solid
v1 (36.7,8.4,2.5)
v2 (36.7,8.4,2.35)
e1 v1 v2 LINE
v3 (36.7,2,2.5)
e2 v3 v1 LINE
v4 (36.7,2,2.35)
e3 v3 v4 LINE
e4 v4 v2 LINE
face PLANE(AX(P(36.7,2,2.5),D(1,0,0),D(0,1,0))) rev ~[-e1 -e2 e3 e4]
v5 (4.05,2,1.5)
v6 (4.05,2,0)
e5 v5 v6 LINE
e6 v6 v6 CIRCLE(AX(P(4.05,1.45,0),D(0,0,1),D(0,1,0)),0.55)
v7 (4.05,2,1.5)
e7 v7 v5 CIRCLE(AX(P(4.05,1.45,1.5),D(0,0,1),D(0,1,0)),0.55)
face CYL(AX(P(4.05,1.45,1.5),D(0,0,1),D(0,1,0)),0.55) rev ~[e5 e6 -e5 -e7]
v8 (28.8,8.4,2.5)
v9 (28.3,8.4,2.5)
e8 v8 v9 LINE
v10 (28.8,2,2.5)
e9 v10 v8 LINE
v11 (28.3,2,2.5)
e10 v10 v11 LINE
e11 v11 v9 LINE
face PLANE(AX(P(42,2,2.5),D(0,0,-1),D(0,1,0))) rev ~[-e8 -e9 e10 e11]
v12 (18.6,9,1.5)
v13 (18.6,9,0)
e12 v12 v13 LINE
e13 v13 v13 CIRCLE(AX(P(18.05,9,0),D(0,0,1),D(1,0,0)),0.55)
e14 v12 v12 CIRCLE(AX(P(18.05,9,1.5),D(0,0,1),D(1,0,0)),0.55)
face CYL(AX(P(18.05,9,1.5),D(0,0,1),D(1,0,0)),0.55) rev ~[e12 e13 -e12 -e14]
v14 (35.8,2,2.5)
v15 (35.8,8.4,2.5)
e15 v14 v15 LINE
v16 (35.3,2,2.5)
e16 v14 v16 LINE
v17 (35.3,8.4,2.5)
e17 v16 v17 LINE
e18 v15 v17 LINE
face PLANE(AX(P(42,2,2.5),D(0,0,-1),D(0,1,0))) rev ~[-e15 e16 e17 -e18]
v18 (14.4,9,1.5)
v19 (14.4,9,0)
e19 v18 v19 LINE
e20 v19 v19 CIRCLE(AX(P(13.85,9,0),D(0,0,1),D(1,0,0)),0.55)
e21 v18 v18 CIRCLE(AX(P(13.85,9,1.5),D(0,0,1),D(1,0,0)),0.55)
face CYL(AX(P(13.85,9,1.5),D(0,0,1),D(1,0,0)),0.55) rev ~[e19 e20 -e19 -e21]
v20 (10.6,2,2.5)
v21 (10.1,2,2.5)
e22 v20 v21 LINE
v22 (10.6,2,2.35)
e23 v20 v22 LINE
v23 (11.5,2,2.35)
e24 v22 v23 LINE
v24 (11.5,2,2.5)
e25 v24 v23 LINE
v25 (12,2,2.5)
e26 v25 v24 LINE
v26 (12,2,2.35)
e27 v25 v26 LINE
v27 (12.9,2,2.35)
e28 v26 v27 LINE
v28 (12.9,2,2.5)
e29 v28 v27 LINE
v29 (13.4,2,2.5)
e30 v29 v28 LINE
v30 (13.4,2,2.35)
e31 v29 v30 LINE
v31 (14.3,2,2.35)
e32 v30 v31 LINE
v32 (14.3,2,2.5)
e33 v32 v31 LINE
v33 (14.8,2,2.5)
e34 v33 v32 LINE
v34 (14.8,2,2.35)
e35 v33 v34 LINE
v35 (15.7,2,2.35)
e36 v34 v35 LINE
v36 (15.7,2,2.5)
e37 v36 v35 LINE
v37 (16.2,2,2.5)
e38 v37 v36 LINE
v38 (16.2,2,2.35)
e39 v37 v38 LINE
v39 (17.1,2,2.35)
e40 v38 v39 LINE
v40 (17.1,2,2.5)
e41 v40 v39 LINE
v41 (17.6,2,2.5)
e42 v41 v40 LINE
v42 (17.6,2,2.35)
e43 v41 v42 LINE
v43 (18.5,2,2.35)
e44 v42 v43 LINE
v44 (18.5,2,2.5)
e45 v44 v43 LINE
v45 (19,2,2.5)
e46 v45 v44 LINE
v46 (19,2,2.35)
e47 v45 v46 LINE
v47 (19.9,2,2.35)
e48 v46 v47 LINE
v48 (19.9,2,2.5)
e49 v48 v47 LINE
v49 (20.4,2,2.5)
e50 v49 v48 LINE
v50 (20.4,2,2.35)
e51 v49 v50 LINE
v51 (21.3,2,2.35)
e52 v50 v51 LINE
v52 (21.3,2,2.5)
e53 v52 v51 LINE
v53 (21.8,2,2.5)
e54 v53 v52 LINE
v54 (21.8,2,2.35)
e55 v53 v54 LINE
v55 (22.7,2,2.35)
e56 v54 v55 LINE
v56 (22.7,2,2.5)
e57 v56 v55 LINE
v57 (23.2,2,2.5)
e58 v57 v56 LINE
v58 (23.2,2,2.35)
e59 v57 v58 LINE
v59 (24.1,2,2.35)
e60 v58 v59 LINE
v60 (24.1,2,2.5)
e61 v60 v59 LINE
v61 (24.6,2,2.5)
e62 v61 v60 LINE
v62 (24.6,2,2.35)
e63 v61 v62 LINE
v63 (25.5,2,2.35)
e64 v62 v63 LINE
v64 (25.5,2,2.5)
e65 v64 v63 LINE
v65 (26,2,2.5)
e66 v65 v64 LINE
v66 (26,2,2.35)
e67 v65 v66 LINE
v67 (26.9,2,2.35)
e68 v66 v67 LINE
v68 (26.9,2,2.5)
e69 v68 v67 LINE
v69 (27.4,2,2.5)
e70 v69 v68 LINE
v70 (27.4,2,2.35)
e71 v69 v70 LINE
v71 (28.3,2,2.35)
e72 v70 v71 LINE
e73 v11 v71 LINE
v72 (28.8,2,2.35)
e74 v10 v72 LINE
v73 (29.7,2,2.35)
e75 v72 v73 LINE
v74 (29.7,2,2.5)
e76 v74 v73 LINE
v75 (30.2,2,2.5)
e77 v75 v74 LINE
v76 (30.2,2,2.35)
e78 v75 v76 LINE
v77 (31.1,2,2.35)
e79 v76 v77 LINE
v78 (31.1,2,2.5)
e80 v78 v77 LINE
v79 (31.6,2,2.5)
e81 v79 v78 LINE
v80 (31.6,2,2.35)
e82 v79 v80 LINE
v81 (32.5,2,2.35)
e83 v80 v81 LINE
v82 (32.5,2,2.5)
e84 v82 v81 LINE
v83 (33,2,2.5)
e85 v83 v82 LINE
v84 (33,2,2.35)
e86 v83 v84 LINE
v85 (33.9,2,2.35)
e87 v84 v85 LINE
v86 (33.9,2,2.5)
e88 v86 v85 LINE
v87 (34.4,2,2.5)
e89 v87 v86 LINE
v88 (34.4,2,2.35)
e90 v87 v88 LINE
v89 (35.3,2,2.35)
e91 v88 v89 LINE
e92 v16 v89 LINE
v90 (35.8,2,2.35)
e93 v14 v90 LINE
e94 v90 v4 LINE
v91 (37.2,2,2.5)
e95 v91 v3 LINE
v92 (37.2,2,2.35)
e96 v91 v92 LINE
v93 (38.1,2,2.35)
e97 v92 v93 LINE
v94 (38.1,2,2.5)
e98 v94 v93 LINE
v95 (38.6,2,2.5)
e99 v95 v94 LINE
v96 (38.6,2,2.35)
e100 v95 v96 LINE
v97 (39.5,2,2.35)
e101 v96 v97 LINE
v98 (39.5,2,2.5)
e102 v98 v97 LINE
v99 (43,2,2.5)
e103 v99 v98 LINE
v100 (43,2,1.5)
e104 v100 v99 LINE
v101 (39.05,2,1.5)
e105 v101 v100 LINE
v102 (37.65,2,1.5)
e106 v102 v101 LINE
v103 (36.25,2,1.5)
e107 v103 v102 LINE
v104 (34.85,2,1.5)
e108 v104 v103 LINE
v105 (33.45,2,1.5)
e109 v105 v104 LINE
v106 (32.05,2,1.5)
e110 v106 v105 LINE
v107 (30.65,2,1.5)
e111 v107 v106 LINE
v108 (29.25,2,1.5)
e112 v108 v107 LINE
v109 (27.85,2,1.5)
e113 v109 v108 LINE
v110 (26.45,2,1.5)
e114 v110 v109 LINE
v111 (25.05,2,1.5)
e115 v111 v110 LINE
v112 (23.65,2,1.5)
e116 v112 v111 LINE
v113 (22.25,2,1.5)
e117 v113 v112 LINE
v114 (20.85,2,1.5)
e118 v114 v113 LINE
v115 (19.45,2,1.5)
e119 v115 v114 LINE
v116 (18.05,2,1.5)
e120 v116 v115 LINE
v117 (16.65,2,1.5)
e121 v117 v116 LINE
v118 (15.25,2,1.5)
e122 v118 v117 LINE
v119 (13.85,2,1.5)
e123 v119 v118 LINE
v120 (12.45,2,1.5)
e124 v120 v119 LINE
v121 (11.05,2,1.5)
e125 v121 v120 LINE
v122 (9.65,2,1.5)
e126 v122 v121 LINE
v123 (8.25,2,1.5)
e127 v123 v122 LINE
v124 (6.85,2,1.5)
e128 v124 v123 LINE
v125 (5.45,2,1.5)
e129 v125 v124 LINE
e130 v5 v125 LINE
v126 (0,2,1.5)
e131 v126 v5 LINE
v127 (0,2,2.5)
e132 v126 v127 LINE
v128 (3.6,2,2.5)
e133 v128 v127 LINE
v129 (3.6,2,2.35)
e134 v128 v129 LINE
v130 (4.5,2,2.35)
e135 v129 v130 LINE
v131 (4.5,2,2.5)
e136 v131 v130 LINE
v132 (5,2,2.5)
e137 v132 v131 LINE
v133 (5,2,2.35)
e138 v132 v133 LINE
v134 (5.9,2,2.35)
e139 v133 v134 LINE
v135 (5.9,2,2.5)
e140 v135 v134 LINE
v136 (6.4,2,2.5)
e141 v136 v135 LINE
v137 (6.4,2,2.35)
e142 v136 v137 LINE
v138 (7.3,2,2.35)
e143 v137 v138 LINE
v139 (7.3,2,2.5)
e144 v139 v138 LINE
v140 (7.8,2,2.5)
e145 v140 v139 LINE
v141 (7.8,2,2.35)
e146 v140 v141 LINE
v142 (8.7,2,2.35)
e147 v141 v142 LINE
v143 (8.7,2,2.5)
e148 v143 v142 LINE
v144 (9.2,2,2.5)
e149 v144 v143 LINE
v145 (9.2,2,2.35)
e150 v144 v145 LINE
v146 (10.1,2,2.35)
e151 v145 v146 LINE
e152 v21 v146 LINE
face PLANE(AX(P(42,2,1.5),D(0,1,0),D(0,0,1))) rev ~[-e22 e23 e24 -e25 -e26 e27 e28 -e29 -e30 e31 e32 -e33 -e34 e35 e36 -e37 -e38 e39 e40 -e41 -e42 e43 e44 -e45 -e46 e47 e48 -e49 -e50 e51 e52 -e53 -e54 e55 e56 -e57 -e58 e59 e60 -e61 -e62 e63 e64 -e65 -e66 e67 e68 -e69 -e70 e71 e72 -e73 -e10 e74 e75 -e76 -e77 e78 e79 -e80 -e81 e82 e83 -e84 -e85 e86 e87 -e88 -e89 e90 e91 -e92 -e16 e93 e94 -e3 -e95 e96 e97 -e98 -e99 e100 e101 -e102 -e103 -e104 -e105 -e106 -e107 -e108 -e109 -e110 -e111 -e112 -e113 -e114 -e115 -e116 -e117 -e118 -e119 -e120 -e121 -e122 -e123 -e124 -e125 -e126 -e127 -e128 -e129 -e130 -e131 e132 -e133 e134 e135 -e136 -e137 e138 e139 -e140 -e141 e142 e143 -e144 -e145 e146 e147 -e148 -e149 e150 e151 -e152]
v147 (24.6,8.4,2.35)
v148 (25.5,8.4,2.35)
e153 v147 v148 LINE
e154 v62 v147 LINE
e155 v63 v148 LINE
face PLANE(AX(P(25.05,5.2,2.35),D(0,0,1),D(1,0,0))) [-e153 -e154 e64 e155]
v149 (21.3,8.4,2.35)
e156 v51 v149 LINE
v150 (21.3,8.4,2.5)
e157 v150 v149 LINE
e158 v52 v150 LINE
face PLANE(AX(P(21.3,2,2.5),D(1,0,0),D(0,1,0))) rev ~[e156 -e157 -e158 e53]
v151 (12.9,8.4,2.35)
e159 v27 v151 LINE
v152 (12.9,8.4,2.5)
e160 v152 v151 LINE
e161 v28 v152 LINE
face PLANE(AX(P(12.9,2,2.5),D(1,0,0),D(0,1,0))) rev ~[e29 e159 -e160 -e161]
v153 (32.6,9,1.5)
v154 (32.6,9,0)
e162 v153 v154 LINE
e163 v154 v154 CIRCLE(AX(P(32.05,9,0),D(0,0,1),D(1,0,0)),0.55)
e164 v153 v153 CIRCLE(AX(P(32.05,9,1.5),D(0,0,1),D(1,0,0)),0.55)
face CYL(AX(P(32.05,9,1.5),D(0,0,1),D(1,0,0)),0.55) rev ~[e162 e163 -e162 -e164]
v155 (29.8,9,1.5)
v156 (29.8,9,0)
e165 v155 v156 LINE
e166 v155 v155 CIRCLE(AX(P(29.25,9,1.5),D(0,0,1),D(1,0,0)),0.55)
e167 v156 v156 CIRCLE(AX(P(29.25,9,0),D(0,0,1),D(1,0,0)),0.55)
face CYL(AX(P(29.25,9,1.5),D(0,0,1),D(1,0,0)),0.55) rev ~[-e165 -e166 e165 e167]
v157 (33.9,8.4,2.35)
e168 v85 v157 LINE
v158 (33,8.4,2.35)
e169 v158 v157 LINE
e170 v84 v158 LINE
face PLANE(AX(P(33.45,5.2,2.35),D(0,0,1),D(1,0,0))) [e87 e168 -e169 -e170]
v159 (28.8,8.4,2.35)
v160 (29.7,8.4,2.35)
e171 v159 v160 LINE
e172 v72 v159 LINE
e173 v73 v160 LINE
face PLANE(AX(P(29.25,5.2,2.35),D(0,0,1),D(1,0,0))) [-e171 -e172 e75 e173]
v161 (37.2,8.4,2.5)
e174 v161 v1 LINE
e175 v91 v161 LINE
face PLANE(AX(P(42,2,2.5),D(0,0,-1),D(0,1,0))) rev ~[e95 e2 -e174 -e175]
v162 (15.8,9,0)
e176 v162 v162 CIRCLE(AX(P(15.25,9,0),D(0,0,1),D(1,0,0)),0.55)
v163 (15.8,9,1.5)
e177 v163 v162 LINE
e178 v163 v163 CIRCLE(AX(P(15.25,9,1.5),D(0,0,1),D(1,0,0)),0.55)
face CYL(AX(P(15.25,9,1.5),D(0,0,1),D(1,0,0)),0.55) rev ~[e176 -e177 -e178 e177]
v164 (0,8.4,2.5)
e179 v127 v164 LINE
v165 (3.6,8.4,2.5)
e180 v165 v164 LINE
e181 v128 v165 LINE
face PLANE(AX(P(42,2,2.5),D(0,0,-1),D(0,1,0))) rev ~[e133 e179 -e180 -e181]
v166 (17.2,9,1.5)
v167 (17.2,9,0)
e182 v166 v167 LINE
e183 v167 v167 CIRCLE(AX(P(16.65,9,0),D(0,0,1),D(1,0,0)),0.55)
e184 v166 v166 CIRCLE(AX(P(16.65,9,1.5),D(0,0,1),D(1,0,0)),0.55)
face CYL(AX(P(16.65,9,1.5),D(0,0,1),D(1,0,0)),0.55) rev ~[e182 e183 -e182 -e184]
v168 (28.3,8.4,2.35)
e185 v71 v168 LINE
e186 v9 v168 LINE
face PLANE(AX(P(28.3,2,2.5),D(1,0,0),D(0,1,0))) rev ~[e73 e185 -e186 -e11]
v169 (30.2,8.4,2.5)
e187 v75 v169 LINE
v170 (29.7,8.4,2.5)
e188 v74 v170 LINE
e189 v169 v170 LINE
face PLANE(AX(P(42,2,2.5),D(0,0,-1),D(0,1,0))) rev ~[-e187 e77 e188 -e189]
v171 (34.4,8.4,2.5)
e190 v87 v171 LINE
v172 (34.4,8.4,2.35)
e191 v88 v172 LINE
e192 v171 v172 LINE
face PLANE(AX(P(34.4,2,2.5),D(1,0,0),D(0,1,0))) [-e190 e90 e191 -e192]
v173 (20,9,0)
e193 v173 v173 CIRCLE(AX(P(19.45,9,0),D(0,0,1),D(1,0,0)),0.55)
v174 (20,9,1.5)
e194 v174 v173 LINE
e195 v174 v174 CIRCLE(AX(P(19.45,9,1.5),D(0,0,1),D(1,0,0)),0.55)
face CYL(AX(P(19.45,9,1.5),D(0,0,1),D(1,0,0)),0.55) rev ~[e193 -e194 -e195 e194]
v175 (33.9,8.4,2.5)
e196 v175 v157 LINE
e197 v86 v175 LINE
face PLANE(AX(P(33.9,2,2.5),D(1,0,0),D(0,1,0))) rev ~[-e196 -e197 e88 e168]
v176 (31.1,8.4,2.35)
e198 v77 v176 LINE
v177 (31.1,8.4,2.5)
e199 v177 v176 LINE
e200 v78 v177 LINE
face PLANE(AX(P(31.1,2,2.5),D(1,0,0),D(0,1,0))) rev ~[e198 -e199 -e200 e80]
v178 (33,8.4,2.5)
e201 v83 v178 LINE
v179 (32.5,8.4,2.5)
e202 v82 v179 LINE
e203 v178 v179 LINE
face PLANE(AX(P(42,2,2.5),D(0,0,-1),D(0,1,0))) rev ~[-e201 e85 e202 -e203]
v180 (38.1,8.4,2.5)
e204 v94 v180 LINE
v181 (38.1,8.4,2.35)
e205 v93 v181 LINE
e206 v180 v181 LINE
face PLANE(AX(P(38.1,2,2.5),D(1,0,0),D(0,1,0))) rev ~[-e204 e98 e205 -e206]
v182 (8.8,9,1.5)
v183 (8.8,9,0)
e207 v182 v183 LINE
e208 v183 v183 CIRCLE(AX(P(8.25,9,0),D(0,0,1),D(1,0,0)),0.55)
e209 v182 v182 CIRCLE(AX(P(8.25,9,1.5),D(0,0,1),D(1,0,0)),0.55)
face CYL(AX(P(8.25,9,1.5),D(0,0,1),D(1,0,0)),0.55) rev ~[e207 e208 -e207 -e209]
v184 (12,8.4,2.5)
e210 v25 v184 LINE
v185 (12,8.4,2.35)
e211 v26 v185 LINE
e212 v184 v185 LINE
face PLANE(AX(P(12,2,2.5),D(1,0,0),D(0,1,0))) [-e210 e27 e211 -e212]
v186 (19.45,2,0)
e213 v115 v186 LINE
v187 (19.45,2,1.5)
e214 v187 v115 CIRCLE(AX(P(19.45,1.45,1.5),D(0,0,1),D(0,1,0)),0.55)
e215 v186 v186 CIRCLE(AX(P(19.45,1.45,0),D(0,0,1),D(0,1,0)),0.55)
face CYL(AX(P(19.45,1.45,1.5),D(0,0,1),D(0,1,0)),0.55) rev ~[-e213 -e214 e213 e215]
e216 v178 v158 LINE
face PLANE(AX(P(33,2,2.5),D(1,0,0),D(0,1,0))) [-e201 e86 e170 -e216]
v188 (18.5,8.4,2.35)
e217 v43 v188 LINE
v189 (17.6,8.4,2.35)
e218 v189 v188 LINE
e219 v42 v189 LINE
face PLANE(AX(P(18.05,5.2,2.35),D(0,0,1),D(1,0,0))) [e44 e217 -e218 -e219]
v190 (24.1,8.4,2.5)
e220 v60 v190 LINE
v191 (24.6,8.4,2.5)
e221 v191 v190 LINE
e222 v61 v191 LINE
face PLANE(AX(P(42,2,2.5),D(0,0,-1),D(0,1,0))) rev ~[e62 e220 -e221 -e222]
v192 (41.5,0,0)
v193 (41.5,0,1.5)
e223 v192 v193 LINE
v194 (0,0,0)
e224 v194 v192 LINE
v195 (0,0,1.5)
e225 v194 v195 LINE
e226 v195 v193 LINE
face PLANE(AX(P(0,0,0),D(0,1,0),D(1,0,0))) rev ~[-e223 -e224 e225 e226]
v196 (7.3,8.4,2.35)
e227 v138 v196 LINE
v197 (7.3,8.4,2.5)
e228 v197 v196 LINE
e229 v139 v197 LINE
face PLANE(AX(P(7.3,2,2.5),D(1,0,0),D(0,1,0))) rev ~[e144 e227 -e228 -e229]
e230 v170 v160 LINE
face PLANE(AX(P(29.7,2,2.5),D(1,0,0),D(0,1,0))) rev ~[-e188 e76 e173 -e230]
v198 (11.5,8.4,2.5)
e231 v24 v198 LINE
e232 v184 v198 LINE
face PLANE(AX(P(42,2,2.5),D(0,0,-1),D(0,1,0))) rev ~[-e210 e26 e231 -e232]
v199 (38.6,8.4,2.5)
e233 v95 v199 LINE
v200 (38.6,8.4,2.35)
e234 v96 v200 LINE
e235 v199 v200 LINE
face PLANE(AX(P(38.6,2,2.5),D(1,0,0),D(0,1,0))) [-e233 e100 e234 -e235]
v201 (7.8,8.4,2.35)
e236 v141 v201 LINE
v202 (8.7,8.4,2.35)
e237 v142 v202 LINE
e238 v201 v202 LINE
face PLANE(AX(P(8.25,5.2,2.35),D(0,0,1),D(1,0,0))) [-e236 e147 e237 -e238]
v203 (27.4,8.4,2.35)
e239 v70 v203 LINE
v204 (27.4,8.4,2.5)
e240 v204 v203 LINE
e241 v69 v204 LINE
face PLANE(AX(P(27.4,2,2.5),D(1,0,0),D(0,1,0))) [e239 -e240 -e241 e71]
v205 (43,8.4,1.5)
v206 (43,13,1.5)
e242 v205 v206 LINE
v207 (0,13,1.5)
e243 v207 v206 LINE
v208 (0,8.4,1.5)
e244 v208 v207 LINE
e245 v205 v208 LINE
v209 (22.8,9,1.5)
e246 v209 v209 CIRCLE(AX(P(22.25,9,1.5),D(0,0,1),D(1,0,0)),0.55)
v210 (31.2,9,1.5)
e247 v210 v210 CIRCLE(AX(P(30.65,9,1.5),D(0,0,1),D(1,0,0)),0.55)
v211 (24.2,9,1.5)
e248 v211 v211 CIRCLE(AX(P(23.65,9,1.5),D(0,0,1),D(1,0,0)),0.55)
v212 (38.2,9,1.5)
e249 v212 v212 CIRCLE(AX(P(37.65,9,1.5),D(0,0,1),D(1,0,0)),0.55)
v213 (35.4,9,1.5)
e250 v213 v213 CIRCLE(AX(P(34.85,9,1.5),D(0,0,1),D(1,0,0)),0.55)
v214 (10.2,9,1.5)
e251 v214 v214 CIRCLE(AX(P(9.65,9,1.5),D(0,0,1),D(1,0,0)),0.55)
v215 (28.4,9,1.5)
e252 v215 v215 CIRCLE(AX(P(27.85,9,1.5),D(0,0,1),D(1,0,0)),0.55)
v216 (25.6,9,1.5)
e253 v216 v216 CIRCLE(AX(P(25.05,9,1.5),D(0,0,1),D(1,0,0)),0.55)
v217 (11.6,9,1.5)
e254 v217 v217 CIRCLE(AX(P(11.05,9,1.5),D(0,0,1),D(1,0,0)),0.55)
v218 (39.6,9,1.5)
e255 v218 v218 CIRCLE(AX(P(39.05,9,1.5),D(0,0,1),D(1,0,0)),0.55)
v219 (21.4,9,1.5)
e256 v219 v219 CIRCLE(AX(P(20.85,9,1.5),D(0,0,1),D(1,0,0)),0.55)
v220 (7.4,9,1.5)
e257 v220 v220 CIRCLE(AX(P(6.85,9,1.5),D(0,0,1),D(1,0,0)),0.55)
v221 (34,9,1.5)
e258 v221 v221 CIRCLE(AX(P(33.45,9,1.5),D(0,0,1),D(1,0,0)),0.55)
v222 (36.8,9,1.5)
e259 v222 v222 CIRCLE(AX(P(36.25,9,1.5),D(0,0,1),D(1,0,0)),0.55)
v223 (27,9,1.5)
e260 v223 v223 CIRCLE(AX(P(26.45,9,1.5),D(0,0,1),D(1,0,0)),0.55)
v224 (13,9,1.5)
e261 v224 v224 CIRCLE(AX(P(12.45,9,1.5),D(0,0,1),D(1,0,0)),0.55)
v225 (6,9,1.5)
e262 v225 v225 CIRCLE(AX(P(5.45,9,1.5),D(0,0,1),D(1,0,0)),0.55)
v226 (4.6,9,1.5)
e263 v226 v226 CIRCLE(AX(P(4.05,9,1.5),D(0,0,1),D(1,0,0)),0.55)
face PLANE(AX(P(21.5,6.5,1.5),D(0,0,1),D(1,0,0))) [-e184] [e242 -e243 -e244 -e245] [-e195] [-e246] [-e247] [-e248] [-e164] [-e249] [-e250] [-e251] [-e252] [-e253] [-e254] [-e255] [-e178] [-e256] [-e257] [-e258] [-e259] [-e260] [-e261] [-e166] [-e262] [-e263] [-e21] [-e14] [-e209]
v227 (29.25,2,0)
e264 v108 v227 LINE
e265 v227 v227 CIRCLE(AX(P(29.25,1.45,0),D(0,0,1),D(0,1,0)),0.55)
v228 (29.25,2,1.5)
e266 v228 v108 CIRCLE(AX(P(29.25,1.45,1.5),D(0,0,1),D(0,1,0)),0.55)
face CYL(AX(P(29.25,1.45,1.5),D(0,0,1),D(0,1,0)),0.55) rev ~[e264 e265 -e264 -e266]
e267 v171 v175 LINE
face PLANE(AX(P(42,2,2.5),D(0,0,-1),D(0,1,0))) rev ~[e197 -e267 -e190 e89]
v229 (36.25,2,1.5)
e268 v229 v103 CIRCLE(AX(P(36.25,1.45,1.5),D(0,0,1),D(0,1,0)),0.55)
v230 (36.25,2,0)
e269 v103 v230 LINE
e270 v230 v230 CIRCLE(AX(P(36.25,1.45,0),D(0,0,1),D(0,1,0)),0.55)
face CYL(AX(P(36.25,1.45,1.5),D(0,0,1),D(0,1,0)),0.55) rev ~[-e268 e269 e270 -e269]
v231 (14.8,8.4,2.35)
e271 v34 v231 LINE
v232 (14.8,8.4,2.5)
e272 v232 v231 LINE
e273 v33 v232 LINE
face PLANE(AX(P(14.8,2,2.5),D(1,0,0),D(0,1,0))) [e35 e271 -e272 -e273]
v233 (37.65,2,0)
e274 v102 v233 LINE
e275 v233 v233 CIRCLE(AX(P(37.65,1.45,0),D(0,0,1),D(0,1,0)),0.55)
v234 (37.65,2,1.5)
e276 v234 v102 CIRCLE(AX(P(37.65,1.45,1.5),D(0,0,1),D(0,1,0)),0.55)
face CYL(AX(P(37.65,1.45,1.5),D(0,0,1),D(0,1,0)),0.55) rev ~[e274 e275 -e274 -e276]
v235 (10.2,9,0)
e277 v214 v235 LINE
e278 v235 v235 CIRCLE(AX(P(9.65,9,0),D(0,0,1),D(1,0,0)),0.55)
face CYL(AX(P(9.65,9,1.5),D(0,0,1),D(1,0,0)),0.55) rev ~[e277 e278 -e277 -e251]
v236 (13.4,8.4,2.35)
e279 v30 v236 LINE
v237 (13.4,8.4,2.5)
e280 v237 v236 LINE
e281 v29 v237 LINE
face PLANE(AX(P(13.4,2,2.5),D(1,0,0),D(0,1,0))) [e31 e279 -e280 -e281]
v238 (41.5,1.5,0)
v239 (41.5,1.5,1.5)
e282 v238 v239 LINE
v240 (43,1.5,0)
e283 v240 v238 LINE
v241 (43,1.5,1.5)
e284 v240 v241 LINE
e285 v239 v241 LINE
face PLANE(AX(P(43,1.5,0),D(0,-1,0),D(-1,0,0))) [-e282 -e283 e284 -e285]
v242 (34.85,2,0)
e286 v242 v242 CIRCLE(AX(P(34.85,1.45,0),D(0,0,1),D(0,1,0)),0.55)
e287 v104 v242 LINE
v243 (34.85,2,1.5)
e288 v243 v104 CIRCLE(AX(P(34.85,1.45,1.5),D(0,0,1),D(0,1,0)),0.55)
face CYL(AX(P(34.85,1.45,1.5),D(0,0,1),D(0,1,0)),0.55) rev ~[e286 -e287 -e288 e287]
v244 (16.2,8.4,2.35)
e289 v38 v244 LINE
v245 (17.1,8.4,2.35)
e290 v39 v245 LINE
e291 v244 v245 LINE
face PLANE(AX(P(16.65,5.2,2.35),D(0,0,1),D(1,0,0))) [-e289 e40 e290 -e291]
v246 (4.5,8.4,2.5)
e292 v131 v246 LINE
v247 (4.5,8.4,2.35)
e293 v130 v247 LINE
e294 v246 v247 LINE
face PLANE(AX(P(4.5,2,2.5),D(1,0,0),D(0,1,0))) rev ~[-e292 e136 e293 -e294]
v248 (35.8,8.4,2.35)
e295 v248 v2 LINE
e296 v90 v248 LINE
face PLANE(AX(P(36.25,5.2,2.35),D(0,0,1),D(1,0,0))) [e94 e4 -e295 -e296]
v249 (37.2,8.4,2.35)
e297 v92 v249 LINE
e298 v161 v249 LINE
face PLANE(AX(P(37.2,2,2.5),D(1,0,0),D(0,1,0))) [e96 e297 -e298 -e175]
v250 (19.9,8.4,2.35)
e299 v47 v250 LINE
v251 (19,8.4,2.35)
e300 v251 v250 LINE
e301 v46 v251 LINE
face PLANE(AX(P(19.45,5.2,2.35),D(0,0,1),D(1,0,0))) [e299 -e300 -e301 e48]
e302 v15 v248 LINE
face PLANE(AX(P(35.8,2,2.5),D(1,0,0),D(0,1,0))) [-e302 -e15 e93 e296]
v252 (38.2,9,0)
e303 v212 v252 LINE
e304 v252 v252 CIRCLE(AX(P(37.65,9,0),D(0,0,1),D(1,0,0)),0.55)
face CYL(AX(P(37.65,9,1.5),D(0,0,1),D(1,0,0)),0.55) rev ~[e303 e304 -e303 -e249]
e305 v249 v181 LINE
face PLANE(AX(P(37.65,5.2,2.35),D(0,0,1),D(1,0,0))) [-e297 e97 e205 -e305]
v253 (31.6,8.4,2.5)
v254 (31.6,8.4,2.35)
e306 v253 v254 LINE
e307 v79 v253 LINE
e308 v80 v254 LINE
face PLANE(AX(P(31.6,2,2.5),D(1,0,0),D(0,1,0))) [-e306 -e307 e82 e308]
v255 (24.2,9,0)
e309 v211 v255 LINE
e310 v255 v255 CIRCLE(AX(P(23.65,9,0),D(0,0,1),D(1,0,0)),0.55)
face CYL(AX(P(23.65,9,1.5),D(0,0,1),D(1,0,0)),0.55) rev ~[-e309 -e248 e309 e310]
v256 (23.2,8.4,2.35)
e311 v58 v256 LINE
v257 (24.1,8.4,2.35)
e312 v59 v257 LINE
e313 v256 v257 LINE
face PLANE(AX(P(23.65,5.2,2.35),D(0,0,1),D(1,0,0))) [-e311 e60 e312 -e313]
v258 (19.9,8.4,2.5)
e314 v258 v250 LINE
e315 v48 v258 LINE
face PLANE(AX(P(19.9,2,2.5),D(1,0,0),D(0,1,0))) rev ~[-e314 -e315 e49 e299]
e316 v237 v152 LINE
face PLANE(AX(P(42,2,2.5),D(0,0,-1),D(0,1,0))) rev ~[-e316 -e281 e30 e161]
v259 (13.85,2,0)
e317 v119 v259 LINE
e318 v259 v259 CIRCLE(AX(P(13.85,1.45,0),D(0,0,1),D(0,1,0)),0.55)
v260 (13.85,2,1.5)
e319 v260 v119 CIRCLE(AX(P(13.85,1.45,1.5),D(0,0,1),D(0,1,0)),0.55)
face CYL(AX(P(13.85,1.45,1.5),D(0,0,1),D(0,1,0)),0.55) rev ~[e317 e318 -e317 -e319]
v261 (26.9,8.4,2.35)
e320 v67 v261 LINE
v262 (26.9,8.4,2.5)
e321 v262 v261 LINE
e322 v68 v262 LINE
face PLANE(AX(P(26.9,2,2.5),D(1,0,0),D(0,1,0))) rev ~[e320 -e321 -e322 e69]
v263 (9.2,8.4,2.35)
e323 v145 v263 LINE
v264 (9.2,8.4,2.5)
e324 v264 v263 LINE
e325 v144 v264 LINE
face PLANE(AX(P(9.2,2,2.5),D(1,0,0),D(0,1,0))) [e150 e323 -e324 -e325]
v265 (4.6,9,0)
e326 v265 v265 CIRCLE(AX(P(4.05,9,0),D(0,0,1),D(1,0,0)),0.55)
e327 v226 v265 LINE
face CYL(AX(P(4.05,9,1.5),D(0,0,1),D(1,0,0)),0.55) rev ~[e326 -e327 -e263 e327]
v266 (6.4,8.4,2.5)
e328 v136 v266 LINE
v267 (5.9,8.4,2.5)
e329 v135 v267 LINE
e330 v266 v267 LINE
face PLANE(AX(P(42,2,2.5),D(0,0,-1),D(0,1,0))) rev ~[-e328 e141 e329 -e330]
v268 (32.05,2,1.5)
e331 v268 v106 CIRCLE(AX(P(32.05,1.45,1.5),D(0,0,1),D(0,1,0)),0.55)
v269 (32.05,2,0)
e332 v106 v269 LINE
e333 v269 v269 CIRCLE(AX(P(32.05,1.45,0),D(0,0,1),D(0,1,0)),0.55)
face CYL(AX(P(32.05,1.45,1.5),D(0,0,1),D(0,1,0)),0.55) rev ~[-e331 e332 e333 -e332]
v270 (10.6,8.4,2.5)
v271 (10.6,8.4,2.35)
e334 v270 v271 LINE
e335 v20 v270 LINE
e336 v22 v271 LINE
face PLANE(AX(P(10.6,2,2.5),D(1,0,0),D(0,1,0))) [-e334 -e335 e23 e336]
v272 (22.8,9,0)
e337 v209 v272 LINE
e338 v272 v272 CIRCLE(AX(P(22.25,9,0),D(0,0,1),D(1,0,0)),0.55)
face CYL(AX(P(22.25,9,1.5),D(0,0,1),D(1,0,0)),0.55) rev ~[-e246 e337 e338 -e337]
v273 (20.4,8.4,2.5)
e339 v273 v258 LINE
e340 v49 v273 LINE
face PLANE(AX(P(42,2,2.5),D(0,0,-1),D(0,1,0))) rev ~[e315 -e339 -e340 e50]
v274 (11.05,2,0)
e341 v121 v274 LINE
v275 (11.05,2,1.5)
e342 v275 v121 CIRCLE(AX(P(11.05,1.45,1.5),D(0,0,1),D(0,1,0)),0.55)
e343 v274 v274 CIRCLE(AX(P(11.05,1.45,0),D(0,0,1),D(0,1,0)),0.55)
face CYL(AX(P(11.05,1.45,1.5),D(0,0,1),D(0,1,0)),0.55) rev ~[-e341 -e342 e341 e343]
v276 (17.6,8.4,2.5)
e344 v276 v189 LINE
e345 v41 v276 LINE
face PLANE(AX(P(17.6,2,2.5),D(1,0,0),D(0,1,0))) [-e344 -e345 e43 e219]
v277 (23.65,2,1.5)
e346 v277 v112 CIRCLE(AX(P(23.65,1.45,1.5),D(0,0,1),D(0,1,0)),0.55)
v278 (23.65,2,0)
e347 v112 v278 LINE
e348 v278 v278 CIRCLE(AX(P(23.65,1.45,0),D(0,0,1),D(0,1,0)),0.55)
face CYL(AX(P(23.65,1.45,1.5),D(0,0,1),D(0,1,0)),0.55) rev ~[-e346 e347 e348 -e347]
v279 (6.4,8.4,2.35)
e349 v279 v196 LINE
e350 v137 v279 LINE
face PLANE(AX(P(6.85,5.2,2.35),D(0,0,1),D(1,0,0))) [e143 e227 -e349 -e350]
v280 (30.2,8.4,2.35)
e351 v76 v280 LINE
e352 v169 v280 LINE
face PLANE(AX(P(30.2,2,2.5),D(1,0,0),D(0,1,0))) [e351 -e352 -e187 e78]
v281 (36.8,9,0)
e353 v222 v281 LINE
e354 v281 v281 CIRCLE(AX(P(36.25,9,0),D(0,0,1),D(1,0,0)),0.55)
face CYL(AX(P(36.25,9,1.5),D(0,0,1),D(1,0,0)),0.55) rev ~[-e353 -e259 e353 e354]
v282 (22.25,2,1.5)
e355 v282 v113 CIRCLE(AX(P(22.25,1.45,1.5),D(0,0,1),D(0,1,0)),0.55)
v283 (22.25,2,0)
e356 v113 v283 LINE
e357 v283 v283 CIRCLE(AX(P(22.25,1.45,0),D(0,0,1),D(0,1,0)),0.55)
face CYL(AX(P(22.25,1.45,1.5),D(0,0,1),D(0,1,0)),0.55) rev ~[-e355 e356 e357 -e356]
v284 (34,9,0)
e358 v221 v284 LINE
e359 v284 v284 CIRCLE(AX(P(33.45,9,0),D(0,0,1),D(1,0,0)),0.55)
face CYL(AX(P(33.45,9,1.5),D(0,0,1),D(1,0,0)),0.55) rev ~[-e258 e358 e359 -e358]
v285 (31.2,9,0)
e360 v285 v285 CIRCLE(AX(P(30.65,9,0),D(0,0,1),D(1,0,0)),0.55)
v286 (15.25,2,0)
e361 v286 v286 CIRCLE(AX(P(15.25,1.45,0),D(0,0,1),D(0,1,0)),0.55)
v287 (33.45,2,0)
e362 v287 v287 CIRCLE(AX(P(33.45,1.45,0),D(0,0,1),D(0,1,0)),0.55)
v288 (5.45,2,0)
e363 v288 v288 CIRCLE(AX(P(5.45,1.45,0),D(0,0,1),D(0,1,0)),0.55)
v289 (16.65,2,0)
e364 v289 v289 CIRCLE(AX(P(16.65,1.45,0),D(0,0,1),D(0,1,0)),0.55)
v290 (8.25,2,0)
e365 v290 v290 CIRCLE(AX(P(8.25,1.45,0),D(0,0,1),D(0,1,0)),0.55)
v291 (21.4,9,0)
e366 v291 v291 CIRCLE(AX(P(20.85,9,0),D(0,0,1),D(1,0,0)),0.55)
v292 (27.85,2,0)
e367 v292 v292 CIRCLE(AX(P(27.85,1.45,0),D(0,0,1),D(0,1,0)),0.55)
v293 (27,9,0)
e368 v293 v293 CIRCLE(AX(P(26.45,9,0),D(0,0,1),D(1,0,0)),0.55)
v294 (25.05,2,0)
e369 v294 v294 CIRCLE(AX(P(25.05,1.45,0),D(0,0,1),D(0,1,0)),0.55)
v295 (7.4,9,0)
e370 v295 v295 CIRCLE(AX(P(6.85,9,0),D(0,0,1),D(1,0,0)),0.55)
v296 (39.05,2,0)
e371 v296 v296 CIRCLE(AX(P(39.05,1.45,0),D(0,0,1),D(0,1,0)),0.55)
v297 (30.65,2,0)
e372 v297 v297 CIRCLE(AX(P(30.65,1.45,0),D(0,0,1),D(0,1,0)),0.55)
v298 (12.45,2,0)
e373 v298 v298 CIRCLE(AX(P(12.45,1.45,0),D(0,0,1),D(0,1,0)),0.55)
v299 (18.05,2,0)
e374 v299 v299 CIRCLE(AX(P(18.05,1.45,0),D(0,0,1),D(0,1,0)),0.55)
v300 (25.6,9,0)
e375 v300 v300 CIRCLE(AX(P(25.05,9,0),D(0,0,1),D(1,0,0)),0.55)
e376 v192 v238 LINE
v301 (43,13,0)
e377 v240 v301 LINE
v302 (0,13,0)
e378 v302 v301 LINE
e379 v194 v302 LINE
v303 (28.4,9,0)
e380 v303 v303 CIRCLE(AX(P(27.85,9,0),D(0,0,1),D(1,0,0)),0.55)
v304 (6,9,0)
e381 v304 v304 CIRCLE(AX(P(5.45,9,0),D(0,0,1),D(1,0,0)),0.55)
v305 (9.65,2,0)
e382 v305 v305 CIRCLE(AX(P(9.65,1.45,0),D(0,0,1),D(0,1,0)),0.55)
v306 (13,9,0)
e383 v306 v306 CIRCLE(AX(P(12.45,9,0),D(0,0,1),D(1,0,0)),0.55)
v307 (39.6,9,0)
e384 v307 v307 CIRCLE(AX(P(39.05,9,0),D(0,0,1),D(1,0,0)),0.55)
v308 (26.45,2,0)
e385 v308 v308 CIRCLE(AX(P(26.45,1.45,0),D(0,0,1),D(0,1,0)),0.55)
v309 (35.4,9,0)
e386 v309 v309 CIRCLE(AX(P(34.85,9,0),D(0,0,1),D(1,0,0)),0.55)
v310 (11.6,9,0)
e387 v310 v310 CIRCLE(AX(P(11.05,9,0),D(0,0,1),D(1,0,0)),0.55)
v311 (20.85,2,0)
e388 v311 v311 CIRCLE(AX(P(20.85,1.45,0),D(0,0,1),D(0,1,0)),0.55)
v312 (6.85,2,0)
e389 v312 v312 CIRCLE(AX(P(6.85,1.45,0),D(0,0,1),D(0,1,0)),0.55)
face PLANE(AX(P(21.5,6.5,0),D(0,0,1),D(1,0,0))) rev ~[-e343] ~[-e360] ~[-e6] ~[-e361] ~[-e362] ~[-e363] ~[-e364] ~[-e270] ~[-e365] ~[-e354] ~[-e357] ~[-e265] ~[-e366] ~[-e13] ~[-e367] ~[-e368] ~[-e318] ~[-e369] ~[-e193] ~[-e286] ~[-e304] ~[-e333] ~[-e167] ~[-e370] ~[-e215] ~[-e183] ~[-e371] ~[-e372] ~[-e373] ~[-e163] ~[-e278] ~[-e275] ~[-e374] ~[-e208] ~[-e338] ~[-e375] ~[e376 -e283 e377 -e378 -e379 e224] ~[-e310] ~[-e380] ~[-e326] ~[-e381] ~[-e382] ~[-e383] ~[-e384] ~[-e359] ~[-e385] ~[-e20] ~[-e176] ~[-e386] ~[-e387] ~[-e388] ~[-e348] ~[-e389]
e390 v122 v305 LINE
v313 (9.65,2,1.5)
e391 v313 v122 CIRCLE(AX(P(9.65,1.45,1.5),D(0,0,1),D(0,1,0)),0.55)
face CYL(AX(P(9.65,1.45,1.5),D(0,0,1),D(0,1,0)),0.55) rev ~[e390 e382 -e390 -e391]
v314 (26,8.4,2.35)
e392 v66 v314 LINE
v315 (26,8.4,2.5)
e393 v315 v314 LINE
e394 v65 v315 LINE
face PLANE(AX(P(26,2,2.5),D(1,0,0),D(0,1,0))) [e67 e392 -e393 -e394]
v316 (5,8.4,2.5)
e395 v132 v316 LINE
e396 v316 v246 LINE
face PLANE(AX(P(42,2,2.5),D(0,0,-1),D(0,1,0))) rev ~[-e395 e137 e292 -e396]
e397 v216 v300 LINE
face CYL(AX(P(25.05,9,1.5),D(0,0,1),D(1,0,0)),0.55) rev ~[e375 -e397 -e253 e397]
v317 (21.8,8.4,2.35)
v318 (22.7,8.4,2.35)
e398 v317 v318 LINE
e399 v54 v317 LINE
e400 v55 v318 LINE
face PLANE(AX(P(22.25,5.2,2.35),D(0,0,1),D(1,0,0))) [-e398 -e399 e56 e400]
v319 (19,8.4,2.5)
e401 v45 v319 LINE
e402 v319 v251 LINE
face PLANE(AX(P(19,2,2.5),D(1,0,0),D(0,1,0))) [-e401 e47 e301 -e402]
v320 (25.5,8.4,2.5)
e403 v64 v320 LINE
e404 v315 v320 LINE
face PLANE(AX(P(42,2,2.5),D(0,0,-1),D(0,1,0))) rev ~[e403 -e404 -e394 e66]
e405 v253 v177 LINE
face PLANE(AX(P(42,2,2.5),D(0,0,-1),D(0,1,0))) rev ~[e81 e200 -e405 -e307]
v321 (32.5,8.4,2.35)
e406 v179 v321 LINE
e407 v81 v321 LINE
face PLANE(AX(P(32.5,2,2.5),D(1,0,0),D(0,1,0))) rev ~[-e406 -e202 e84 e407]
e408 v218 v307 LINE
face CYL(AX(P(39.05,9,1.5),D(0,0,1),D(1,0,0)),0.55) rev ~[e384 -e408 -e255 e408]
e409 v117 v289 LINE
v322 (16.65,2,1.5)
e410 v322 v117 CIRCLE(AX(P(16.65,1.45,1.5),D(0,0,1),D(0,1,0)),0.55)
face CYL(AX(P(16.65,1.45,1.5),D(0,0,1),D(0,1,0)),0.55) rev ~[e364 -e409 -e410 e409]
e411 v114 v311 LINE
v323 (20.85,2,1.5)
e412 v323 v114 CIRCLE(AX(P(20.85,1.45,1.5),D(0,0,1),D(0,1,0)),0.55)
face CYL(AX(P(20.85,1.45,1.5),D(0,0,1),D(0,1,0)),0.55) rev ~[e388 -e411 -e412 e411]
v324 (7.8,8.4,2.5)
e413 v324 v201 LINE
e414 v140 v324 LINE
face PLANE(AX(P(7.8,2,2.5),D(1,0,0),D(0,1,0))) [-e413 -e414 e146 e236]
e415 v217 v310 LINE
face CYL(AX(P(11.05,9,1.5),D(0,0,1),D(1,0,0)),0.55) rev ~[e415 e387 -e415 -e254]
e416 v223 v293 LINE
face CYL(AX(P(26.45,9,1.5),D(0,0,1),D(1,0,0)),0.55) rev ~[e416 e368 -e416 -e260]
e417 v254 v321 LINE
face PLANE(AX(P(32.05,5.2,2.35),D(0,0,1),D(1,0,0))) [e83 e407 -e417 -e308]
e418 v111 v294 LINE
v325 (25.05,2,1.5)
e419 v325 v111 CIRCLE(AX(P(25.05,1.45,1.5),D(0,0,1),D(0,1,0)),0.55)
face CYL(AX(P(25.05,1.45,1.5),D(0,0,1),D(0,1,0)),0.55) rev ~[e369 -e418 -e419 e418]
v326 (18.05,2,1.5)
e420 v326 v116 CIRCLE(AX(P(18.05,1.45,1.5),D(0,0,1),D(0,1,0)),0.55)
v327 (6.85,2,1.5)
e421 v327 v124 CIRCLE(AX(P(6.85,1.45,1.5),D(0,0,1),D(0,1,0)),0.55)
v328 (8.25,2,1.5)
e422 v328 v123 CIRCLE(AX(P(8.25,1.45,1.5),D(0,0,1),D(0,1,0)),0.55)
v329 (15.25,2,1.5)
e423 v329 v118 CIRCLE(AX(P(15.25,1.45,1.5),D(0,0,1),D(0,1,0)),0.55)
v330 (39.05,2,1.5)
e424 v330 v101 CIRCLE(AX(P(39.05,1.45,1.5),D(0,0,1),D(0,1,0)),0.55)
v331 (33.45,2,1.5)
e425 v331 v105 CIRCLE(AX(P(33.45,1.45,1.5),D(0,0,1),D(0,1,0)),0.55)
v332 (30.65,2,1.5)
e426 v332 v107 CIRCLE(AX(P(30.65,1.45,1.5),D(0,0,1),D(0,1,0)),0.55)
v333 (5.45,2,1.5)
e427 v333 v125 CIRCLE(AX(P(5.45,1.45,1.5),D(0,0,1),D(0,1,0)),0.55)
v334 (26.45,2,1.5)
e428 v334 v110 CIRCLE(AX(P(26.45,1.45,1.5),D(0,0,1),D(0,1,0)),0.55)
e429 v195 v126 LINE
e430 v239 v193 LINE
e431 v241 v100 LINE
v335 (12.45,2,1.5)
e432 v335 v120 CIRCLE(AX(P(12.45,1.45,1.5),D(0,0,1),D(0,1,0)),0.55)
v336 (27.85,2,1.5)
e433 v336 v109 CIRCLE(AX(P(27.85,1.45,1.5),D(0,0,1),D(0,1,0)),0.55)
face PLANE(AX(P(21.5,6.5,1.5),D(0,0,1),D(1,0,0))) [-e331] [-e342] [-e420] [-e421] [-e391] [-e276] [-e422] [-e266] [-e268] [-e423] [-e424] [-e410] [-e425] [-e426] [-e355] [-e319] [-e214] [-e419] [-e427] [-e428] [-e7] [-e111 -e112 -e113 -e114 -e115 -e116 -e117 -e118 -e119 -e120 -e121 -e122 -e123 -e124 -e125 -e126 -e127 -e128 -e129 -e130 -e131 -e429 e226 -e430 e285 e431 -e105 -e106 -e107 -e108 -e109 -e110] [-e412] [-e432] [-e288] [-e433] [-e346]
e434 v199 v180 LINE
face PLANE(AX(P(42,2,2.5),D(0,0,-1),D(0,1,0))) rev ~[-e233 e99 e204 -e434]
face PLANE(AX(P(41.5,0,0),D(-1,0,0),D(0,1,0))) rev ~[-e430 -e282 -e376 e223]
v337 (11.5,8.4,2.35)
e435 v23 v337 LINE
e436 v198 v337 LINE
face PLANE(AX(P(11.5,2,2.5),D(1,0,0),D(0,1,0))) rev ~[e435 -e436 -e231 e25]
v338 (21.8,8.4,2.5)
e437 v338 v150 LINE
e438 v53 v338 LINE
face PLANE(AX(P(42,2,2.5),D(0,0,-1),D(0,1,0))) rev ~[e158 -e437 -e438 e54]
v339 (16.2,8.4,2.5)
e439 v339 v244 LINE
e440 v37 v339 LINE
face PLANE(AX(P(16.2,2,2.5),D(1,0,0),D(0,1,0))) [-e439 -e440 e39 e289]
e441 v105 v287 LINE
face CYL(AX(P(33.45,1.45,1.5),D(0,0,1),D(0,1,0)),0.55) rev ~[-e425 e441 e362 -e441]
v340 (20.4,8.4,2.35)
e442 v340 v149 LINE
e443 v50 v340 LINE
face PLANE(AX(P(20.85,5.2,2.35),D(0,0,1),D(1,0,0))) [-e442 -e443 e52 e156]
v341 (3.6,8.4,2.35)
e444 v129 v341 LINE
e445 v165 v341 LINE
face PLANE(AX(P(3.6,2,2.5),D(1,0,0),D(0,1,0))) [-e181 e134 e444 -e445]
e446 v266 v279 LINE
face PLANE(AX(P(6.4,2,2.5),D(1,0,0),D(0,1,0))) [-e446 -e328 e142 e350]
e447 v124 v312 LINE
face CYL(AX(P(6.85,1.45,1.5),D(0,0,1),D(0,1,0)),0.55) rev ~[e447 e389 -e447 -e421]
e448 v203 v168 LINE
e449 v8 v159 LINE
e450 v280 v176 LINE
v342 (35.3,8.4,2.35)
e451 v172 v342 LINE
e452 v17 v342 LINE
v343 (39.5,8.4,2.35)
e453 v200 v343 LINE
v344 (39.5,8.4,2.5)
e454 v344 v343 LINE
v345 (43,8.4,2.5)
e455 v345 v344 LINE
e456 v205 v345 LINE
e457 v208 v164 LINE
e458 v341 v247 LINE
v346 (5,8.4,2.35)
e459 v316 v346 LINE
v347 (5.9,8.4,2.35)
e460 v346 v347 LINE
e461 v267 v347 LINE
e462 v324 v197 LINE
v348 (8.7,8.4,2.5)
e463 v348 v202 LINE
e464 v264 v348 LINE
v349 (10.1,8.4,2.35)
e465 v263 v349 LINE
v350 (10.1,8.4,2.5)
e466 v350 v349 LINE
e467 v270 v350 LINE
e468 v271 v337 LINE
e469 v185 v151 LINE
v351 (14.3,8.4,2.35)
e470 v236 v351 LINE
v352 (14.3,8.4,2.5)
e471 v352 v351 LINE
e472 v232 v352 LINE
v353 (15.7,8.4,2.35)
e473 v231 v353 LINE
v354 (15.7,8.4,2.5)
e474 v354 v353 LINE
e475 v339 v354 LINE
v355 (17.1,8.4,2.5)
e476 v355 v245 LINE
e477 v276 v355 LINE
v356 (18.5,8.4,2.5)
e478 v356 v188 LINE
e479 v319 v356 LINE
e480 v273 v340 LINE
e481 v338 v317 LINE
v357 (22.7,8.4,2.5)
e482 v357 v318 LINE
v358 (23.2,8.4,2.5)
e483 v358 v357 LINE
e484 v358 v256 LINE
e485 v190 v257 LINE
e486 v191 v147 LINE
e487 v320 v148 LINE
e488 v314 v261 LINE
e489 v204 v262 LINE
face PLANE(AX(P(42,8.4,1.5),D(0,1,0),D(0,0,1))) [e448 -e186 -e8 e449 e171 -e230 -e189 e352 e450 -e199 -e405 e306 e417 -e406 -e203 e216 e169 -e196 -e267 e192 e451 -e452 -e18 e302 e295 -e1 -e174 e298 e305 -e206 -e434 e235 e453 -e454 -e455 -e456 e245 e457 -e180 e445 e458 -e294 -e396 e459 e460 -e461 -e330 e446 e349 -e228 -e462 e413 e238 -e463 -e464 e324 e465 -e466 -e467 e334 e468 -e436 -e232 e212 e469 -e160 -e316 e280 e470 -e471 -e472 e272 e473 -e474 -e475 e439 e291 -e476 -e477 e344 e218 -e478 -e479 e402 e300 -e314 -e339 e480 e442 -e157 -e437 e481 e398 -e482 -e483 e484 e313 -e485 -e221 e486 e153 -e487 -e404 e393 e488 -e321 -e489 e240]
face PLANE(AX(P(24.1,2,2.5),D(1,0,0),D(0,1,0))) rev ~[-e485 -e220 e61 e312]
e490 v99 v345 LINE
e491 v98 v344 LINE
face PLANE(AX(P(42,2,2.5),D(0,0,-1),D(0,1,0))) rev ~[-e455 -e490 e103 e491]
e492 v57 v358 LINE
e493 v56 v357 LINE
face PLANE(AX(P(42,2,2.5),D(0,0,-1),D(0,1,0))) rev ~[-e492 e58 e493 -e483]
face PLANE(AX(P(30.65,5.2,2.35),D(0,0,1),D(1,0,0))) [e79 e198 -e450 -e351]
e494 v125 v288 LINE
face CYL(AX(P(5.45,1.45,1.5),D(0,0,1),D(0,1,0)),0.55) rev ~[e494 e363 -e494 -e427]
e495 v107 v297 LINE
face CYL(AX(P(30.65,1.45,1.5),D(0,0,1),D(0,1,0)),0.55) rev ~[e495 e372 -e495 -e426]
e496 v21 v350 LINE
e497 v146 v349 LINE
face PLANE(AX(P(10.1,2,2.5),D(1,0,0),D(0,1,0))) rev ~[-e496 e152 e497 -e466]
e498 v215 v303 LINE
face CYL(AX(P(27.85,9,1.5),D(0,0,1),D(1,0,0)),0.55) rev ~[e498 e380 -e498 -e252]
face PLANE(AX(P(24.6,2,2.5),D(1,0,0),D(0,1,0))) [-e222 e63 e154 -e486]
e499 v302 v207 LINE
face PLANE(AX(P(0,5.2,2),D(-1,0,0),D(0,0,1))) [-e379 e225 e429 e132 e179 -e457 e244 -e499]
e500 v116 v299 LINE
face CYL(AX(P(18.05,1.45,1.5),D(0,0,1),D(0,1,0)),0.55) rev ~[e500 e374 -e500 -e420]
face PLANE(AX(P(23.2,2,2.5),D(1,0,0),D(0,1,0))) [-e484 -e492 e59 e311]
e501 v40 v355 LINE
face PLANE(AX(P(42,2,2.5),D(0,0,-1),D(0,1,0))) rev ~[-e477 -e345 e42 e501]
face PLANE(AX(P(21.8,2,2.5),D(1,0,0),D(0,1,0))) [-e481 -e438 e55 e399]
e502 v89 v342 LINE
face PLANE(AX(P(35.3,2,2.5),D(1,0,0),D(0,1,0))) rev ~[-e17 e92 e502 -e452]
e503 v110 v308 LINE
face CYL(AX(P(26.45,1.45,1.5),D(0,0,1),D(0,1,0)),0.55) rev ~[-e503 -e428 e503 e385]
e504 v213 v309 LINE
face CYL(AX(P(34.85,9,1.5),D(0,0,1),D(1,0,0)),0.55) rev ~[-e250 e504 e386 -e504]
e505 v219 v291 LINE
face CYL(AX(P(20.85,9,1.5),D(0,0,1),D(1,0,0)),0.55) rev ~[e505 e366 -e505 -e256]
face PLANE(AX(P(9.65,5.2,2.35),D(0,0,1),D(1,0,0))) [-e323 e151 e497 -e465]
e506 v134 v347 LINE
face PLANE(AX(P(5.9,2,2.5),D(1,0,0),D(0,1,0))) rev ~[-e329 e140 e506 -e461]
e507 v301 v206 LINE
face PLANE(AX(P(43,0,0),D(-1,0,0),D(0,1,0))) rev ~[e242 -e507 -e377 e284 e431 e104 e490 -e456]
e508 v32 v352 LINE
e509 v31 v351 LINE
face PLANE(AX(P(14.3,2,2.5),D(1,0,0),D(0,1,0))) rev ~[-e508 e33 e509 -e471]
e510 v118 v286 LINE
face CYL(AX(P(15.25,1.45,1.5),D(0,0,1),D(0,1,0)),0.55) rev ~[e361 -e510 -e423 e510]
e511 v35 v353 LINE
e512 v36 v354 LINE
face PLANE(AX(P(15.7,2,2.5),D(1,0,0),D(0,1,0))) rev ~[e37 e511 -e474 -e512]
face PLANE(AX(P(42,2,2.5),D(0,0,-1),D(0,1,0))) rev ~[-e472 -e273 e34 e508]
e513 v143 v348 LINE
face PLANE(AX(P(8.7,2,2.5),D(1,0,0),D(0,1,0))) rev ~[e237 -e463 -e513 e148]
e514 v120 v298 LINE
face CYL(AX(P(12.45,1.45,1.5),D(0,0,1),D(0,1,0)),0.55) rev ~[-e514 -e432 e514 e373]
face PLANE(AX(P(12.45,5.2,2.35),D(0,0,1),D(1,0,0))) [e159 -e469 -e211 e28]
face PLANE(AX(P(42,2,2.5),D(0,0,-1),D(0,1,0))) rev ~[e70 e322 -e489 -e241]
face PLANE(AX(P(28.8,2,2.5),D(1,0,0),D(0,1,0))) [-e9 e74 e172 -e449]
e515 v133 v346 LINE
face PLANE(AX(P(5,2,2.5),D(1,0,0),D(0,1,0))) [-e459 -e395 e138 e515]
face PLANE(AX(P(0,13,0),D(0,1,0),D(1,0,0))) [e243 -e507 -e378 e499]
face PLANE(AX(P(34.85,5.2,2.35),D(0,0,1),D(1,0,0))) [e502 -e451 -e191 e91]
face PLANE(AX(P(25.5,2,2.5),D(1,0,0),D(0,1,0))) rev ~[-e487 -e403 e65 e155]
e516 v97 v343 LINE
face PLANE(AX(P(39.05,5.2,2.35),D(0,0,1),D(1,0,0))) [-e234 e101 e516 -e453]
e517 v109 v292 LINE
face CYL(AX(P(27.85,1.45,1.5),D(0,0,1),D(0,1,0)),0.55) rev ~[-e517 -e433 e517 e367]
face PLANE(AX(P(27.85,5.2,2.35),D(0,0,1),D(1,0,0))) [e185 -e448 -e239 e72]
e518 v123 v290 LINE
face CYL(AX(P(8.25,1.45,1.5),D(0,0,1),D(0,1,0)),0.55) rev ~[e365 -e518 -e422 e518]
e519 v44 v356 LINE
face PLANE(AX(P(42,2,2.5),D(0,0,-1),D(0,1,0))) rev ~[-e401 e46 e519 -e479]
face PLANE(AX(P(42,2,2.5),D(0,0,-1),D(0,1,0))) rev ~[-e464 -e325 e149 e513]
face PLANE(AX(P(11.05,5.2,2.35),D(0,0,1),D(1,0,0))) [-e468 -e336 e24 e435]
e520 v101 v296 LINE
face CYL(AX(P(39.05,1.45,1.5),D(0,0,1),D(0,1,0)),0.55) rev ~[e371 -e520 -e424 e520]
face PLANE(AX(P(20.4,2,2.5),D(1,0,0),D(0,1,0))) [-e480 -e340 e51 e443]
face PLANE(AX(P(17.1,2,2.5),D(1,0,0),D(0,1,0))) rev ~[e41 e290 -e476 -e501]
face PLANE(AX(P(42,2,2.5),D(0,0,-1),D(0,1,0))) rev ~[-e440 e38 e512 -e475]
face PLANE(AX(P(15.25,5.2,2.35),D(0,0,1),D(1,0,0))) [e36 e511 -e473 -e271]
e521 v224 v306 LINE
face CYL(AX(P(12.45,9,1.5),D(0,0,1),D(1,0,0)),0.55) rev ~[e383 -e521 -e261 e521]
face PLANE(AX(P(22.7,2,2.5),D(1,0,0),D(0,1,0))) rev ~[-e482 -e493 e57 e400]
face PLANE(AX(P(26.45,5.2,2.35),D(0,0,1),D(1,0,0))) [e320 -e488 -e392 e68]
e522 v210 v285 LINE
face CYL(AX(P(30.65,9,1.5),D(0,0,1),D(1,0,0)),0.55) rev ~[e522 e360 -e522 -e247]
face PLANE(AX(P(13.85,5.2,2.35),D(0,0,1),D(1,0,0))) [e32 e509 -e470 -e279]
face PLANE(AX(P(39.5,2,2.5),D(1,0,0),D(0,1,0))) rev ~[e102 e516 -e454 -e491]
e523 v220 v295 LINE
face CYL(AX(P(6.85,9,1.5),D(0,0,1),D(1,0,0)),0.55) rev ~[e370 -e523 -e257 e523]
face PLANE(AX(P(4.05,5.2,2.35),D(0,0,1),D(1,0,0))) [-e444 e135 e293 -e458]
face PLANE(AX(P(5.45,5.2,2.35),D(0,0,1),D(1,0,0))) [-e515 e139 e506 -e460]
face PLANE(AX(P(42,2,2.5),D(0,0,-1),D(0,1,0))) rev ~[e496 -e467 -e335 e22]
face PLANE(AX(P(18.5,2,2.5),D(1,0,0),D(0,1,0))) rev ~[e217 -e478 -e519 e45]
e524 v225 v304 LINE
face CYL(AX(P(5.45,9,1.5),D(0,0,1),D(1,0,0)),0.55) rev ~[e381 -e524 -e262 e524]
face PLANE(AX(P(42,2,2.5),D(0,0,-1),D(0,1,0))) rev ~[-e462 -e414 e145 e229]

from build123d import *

# Parameters (mm, degrees)
ESQUISSE1_W                = 43
ESQUISSE1_H                = 13
BOSS_EXTRU_1_DEPTH         = 1.5
ESQUISSE2_W                = 1
ESQUISSE2_H                = 6.4
BOSS_EXTRU_2_DEPTH         = 1
ESQUISSE3_W                = 1
ESQUISSE3_H                = 6.4
BOSS_EXTRU_3_DEPTH         = 42
ESQUISSE8_W                = 1.5
ESQUISSE8_H                = 1.5
ENL_V_MAT_EXTRU_5_DEPTH    = 4.5
ESQUISSE9_W                = 0.9
ESQUISSE9_H                = 6.4
ENL_V_MAT_EXTRU_6_DEPTH    = 0.15
R_P_TITION_LIN_AIRE4_COUNT = 26
R_P_TITION_LIN_AIRE4_PITCH = 1.4
ESQUISSE10_R               = 0.55
ENL_V_MAT_EXTRU_8_DEPTH    = 45.947191236
R_P_TITION_LIN_AIRE5_COUNT = 26
R_P_TITION_LIN_AIRE5_PITCH = 1.4
ESQUISSE11_R               = 0.55
ENL_V_MAT_EXTRU_9_DEPTH    = 7.3
R_P_TITION_LIN_AIRE6_COUNT = 26
R_P_TITION_LIN_AIRE6_PITCH = 1.4


with BuildPart() as part:
    # Esquisse1 → Boss.-Extru.1 (new body)
    with BuildSketch(Plane.XY):
        with Locations((21.5, 6.5)):
            Rectangle(ESQUISSE1_W, ESQUISSE1_H)
    extrude(amount=BOSS_EXTRU_1_DEPTH)

    # Esquisse2 → Boss.-Extru.2 (add)
    with BuildSketch(Plane.XY.offset(1.5)):
        with Locations((42.5, 5.2)):
            Rectangle(ESQUISSE2_W, ESQUISSE2_H)
    extrude(amount=BOSS_EXTRU_2_DEPTH)

    # Esquisse3 → Boss.-Extru.3 (add)
    with BuildSketch(Plane.ZY.offset(-42)):
        with Locations((2, 5.2)):
            Rectangle(ESQUISSE3_W, ESQUISSE3_H)
    extrude(amount=BOSS_EXTRU_3_DEPTH)

    # Esquisse8 → Enlèv. mat.-Extru.5 (cut)
    with BuildSketch(Plane(origin=(0, 0, 0), x_dir=(-1, 0, 0), z_dir=(0, 0, -1))):
        with Locations((-42.25, 0.75)):
            Rectangle(ESQUISSE8_W, ESQUISSE8_H)
    extrude(amount=-ENL_V_MAT_EXTRU_5_DEPTH, mode=Mode.SUBTRACT)

    # Esquisse9 → Enlèv. mat.-Extru.6 (cut)
    with BuildSketch(Plane.XY.offset(2.5)):
        with Locations((39.05, 5.2)):
            Rectangle(ESQUISSE9_W, ESQUISSE9_H)
    enl_v_mat_extru_6 = extrude(amount=-ENL_V_MAT_EXTRU_6_DEPTH, mode=Mode.SUBTRACT)

    # Répétition linéaire4: Enlèv. mat.-Extru.6 ×26
    with Locations(*[(-i * R_P_TITION_LIN_AIRE4_PITCH, 0, 0) for i in range(1, R_P_TITION_LIN_AIRE4_COUNT)]):
        add(enl_v_mat_extru_6, mode=Mode.SUBTRACT)

    # Esquisse10 → Enlèv. mat.-Extru.8 (cut, through all)
    with BuildSketch(Plane.XY.offset(1.5)):
        with Locations((39.05, 9)):
            Circle(ESQUISSE10_R)
    enl_v_mat_extru_8 = extrude(amount=-ENL_V_MAT_EXTRU_8_DEPTH, mode=Mode.SUBTRACT)

    # Répétition linéaire5: Enlèv. mat.-Extru.8 ×26
    with Locations(*[(-i * R_P_TITION_LIN_AIRE5_PITCH, 0, 0) for i in range(1, R_P_TITION_LIN_AIRE5_COUNT)]):
        add(enl_v_mat_extru_8, mode=Mode.SUBTRACT)

    # Esquisse11 → Enlèv. mat.-Extru.9 (cut)
    with BuildSketch(Plane.XY.offset(1.5)):
        with Locations(Location((39.05, 1.45, 0), (0, 0, 90))):
            Circle(ESQUISSE11_R)
    enl_v_mat_extru_9 = extrude(amount=-ENL_V_MAT_EXTRU_9_DEPTH, mode=Mode.SUBTRACT)

    # Répétition linéaire6: Enlèv. mat.-Extru.9 ×26
    with Locations(*[(-i * R_P_TITION_LIN_AIRE6_PITCH, 0, 0) for i in range(1, R_P_TITION_LIN_AIRE6_COUNT)]):
        add(enl_v_mat_extru_9, mode=Mode.SUBTRACT)


solid = part.part
